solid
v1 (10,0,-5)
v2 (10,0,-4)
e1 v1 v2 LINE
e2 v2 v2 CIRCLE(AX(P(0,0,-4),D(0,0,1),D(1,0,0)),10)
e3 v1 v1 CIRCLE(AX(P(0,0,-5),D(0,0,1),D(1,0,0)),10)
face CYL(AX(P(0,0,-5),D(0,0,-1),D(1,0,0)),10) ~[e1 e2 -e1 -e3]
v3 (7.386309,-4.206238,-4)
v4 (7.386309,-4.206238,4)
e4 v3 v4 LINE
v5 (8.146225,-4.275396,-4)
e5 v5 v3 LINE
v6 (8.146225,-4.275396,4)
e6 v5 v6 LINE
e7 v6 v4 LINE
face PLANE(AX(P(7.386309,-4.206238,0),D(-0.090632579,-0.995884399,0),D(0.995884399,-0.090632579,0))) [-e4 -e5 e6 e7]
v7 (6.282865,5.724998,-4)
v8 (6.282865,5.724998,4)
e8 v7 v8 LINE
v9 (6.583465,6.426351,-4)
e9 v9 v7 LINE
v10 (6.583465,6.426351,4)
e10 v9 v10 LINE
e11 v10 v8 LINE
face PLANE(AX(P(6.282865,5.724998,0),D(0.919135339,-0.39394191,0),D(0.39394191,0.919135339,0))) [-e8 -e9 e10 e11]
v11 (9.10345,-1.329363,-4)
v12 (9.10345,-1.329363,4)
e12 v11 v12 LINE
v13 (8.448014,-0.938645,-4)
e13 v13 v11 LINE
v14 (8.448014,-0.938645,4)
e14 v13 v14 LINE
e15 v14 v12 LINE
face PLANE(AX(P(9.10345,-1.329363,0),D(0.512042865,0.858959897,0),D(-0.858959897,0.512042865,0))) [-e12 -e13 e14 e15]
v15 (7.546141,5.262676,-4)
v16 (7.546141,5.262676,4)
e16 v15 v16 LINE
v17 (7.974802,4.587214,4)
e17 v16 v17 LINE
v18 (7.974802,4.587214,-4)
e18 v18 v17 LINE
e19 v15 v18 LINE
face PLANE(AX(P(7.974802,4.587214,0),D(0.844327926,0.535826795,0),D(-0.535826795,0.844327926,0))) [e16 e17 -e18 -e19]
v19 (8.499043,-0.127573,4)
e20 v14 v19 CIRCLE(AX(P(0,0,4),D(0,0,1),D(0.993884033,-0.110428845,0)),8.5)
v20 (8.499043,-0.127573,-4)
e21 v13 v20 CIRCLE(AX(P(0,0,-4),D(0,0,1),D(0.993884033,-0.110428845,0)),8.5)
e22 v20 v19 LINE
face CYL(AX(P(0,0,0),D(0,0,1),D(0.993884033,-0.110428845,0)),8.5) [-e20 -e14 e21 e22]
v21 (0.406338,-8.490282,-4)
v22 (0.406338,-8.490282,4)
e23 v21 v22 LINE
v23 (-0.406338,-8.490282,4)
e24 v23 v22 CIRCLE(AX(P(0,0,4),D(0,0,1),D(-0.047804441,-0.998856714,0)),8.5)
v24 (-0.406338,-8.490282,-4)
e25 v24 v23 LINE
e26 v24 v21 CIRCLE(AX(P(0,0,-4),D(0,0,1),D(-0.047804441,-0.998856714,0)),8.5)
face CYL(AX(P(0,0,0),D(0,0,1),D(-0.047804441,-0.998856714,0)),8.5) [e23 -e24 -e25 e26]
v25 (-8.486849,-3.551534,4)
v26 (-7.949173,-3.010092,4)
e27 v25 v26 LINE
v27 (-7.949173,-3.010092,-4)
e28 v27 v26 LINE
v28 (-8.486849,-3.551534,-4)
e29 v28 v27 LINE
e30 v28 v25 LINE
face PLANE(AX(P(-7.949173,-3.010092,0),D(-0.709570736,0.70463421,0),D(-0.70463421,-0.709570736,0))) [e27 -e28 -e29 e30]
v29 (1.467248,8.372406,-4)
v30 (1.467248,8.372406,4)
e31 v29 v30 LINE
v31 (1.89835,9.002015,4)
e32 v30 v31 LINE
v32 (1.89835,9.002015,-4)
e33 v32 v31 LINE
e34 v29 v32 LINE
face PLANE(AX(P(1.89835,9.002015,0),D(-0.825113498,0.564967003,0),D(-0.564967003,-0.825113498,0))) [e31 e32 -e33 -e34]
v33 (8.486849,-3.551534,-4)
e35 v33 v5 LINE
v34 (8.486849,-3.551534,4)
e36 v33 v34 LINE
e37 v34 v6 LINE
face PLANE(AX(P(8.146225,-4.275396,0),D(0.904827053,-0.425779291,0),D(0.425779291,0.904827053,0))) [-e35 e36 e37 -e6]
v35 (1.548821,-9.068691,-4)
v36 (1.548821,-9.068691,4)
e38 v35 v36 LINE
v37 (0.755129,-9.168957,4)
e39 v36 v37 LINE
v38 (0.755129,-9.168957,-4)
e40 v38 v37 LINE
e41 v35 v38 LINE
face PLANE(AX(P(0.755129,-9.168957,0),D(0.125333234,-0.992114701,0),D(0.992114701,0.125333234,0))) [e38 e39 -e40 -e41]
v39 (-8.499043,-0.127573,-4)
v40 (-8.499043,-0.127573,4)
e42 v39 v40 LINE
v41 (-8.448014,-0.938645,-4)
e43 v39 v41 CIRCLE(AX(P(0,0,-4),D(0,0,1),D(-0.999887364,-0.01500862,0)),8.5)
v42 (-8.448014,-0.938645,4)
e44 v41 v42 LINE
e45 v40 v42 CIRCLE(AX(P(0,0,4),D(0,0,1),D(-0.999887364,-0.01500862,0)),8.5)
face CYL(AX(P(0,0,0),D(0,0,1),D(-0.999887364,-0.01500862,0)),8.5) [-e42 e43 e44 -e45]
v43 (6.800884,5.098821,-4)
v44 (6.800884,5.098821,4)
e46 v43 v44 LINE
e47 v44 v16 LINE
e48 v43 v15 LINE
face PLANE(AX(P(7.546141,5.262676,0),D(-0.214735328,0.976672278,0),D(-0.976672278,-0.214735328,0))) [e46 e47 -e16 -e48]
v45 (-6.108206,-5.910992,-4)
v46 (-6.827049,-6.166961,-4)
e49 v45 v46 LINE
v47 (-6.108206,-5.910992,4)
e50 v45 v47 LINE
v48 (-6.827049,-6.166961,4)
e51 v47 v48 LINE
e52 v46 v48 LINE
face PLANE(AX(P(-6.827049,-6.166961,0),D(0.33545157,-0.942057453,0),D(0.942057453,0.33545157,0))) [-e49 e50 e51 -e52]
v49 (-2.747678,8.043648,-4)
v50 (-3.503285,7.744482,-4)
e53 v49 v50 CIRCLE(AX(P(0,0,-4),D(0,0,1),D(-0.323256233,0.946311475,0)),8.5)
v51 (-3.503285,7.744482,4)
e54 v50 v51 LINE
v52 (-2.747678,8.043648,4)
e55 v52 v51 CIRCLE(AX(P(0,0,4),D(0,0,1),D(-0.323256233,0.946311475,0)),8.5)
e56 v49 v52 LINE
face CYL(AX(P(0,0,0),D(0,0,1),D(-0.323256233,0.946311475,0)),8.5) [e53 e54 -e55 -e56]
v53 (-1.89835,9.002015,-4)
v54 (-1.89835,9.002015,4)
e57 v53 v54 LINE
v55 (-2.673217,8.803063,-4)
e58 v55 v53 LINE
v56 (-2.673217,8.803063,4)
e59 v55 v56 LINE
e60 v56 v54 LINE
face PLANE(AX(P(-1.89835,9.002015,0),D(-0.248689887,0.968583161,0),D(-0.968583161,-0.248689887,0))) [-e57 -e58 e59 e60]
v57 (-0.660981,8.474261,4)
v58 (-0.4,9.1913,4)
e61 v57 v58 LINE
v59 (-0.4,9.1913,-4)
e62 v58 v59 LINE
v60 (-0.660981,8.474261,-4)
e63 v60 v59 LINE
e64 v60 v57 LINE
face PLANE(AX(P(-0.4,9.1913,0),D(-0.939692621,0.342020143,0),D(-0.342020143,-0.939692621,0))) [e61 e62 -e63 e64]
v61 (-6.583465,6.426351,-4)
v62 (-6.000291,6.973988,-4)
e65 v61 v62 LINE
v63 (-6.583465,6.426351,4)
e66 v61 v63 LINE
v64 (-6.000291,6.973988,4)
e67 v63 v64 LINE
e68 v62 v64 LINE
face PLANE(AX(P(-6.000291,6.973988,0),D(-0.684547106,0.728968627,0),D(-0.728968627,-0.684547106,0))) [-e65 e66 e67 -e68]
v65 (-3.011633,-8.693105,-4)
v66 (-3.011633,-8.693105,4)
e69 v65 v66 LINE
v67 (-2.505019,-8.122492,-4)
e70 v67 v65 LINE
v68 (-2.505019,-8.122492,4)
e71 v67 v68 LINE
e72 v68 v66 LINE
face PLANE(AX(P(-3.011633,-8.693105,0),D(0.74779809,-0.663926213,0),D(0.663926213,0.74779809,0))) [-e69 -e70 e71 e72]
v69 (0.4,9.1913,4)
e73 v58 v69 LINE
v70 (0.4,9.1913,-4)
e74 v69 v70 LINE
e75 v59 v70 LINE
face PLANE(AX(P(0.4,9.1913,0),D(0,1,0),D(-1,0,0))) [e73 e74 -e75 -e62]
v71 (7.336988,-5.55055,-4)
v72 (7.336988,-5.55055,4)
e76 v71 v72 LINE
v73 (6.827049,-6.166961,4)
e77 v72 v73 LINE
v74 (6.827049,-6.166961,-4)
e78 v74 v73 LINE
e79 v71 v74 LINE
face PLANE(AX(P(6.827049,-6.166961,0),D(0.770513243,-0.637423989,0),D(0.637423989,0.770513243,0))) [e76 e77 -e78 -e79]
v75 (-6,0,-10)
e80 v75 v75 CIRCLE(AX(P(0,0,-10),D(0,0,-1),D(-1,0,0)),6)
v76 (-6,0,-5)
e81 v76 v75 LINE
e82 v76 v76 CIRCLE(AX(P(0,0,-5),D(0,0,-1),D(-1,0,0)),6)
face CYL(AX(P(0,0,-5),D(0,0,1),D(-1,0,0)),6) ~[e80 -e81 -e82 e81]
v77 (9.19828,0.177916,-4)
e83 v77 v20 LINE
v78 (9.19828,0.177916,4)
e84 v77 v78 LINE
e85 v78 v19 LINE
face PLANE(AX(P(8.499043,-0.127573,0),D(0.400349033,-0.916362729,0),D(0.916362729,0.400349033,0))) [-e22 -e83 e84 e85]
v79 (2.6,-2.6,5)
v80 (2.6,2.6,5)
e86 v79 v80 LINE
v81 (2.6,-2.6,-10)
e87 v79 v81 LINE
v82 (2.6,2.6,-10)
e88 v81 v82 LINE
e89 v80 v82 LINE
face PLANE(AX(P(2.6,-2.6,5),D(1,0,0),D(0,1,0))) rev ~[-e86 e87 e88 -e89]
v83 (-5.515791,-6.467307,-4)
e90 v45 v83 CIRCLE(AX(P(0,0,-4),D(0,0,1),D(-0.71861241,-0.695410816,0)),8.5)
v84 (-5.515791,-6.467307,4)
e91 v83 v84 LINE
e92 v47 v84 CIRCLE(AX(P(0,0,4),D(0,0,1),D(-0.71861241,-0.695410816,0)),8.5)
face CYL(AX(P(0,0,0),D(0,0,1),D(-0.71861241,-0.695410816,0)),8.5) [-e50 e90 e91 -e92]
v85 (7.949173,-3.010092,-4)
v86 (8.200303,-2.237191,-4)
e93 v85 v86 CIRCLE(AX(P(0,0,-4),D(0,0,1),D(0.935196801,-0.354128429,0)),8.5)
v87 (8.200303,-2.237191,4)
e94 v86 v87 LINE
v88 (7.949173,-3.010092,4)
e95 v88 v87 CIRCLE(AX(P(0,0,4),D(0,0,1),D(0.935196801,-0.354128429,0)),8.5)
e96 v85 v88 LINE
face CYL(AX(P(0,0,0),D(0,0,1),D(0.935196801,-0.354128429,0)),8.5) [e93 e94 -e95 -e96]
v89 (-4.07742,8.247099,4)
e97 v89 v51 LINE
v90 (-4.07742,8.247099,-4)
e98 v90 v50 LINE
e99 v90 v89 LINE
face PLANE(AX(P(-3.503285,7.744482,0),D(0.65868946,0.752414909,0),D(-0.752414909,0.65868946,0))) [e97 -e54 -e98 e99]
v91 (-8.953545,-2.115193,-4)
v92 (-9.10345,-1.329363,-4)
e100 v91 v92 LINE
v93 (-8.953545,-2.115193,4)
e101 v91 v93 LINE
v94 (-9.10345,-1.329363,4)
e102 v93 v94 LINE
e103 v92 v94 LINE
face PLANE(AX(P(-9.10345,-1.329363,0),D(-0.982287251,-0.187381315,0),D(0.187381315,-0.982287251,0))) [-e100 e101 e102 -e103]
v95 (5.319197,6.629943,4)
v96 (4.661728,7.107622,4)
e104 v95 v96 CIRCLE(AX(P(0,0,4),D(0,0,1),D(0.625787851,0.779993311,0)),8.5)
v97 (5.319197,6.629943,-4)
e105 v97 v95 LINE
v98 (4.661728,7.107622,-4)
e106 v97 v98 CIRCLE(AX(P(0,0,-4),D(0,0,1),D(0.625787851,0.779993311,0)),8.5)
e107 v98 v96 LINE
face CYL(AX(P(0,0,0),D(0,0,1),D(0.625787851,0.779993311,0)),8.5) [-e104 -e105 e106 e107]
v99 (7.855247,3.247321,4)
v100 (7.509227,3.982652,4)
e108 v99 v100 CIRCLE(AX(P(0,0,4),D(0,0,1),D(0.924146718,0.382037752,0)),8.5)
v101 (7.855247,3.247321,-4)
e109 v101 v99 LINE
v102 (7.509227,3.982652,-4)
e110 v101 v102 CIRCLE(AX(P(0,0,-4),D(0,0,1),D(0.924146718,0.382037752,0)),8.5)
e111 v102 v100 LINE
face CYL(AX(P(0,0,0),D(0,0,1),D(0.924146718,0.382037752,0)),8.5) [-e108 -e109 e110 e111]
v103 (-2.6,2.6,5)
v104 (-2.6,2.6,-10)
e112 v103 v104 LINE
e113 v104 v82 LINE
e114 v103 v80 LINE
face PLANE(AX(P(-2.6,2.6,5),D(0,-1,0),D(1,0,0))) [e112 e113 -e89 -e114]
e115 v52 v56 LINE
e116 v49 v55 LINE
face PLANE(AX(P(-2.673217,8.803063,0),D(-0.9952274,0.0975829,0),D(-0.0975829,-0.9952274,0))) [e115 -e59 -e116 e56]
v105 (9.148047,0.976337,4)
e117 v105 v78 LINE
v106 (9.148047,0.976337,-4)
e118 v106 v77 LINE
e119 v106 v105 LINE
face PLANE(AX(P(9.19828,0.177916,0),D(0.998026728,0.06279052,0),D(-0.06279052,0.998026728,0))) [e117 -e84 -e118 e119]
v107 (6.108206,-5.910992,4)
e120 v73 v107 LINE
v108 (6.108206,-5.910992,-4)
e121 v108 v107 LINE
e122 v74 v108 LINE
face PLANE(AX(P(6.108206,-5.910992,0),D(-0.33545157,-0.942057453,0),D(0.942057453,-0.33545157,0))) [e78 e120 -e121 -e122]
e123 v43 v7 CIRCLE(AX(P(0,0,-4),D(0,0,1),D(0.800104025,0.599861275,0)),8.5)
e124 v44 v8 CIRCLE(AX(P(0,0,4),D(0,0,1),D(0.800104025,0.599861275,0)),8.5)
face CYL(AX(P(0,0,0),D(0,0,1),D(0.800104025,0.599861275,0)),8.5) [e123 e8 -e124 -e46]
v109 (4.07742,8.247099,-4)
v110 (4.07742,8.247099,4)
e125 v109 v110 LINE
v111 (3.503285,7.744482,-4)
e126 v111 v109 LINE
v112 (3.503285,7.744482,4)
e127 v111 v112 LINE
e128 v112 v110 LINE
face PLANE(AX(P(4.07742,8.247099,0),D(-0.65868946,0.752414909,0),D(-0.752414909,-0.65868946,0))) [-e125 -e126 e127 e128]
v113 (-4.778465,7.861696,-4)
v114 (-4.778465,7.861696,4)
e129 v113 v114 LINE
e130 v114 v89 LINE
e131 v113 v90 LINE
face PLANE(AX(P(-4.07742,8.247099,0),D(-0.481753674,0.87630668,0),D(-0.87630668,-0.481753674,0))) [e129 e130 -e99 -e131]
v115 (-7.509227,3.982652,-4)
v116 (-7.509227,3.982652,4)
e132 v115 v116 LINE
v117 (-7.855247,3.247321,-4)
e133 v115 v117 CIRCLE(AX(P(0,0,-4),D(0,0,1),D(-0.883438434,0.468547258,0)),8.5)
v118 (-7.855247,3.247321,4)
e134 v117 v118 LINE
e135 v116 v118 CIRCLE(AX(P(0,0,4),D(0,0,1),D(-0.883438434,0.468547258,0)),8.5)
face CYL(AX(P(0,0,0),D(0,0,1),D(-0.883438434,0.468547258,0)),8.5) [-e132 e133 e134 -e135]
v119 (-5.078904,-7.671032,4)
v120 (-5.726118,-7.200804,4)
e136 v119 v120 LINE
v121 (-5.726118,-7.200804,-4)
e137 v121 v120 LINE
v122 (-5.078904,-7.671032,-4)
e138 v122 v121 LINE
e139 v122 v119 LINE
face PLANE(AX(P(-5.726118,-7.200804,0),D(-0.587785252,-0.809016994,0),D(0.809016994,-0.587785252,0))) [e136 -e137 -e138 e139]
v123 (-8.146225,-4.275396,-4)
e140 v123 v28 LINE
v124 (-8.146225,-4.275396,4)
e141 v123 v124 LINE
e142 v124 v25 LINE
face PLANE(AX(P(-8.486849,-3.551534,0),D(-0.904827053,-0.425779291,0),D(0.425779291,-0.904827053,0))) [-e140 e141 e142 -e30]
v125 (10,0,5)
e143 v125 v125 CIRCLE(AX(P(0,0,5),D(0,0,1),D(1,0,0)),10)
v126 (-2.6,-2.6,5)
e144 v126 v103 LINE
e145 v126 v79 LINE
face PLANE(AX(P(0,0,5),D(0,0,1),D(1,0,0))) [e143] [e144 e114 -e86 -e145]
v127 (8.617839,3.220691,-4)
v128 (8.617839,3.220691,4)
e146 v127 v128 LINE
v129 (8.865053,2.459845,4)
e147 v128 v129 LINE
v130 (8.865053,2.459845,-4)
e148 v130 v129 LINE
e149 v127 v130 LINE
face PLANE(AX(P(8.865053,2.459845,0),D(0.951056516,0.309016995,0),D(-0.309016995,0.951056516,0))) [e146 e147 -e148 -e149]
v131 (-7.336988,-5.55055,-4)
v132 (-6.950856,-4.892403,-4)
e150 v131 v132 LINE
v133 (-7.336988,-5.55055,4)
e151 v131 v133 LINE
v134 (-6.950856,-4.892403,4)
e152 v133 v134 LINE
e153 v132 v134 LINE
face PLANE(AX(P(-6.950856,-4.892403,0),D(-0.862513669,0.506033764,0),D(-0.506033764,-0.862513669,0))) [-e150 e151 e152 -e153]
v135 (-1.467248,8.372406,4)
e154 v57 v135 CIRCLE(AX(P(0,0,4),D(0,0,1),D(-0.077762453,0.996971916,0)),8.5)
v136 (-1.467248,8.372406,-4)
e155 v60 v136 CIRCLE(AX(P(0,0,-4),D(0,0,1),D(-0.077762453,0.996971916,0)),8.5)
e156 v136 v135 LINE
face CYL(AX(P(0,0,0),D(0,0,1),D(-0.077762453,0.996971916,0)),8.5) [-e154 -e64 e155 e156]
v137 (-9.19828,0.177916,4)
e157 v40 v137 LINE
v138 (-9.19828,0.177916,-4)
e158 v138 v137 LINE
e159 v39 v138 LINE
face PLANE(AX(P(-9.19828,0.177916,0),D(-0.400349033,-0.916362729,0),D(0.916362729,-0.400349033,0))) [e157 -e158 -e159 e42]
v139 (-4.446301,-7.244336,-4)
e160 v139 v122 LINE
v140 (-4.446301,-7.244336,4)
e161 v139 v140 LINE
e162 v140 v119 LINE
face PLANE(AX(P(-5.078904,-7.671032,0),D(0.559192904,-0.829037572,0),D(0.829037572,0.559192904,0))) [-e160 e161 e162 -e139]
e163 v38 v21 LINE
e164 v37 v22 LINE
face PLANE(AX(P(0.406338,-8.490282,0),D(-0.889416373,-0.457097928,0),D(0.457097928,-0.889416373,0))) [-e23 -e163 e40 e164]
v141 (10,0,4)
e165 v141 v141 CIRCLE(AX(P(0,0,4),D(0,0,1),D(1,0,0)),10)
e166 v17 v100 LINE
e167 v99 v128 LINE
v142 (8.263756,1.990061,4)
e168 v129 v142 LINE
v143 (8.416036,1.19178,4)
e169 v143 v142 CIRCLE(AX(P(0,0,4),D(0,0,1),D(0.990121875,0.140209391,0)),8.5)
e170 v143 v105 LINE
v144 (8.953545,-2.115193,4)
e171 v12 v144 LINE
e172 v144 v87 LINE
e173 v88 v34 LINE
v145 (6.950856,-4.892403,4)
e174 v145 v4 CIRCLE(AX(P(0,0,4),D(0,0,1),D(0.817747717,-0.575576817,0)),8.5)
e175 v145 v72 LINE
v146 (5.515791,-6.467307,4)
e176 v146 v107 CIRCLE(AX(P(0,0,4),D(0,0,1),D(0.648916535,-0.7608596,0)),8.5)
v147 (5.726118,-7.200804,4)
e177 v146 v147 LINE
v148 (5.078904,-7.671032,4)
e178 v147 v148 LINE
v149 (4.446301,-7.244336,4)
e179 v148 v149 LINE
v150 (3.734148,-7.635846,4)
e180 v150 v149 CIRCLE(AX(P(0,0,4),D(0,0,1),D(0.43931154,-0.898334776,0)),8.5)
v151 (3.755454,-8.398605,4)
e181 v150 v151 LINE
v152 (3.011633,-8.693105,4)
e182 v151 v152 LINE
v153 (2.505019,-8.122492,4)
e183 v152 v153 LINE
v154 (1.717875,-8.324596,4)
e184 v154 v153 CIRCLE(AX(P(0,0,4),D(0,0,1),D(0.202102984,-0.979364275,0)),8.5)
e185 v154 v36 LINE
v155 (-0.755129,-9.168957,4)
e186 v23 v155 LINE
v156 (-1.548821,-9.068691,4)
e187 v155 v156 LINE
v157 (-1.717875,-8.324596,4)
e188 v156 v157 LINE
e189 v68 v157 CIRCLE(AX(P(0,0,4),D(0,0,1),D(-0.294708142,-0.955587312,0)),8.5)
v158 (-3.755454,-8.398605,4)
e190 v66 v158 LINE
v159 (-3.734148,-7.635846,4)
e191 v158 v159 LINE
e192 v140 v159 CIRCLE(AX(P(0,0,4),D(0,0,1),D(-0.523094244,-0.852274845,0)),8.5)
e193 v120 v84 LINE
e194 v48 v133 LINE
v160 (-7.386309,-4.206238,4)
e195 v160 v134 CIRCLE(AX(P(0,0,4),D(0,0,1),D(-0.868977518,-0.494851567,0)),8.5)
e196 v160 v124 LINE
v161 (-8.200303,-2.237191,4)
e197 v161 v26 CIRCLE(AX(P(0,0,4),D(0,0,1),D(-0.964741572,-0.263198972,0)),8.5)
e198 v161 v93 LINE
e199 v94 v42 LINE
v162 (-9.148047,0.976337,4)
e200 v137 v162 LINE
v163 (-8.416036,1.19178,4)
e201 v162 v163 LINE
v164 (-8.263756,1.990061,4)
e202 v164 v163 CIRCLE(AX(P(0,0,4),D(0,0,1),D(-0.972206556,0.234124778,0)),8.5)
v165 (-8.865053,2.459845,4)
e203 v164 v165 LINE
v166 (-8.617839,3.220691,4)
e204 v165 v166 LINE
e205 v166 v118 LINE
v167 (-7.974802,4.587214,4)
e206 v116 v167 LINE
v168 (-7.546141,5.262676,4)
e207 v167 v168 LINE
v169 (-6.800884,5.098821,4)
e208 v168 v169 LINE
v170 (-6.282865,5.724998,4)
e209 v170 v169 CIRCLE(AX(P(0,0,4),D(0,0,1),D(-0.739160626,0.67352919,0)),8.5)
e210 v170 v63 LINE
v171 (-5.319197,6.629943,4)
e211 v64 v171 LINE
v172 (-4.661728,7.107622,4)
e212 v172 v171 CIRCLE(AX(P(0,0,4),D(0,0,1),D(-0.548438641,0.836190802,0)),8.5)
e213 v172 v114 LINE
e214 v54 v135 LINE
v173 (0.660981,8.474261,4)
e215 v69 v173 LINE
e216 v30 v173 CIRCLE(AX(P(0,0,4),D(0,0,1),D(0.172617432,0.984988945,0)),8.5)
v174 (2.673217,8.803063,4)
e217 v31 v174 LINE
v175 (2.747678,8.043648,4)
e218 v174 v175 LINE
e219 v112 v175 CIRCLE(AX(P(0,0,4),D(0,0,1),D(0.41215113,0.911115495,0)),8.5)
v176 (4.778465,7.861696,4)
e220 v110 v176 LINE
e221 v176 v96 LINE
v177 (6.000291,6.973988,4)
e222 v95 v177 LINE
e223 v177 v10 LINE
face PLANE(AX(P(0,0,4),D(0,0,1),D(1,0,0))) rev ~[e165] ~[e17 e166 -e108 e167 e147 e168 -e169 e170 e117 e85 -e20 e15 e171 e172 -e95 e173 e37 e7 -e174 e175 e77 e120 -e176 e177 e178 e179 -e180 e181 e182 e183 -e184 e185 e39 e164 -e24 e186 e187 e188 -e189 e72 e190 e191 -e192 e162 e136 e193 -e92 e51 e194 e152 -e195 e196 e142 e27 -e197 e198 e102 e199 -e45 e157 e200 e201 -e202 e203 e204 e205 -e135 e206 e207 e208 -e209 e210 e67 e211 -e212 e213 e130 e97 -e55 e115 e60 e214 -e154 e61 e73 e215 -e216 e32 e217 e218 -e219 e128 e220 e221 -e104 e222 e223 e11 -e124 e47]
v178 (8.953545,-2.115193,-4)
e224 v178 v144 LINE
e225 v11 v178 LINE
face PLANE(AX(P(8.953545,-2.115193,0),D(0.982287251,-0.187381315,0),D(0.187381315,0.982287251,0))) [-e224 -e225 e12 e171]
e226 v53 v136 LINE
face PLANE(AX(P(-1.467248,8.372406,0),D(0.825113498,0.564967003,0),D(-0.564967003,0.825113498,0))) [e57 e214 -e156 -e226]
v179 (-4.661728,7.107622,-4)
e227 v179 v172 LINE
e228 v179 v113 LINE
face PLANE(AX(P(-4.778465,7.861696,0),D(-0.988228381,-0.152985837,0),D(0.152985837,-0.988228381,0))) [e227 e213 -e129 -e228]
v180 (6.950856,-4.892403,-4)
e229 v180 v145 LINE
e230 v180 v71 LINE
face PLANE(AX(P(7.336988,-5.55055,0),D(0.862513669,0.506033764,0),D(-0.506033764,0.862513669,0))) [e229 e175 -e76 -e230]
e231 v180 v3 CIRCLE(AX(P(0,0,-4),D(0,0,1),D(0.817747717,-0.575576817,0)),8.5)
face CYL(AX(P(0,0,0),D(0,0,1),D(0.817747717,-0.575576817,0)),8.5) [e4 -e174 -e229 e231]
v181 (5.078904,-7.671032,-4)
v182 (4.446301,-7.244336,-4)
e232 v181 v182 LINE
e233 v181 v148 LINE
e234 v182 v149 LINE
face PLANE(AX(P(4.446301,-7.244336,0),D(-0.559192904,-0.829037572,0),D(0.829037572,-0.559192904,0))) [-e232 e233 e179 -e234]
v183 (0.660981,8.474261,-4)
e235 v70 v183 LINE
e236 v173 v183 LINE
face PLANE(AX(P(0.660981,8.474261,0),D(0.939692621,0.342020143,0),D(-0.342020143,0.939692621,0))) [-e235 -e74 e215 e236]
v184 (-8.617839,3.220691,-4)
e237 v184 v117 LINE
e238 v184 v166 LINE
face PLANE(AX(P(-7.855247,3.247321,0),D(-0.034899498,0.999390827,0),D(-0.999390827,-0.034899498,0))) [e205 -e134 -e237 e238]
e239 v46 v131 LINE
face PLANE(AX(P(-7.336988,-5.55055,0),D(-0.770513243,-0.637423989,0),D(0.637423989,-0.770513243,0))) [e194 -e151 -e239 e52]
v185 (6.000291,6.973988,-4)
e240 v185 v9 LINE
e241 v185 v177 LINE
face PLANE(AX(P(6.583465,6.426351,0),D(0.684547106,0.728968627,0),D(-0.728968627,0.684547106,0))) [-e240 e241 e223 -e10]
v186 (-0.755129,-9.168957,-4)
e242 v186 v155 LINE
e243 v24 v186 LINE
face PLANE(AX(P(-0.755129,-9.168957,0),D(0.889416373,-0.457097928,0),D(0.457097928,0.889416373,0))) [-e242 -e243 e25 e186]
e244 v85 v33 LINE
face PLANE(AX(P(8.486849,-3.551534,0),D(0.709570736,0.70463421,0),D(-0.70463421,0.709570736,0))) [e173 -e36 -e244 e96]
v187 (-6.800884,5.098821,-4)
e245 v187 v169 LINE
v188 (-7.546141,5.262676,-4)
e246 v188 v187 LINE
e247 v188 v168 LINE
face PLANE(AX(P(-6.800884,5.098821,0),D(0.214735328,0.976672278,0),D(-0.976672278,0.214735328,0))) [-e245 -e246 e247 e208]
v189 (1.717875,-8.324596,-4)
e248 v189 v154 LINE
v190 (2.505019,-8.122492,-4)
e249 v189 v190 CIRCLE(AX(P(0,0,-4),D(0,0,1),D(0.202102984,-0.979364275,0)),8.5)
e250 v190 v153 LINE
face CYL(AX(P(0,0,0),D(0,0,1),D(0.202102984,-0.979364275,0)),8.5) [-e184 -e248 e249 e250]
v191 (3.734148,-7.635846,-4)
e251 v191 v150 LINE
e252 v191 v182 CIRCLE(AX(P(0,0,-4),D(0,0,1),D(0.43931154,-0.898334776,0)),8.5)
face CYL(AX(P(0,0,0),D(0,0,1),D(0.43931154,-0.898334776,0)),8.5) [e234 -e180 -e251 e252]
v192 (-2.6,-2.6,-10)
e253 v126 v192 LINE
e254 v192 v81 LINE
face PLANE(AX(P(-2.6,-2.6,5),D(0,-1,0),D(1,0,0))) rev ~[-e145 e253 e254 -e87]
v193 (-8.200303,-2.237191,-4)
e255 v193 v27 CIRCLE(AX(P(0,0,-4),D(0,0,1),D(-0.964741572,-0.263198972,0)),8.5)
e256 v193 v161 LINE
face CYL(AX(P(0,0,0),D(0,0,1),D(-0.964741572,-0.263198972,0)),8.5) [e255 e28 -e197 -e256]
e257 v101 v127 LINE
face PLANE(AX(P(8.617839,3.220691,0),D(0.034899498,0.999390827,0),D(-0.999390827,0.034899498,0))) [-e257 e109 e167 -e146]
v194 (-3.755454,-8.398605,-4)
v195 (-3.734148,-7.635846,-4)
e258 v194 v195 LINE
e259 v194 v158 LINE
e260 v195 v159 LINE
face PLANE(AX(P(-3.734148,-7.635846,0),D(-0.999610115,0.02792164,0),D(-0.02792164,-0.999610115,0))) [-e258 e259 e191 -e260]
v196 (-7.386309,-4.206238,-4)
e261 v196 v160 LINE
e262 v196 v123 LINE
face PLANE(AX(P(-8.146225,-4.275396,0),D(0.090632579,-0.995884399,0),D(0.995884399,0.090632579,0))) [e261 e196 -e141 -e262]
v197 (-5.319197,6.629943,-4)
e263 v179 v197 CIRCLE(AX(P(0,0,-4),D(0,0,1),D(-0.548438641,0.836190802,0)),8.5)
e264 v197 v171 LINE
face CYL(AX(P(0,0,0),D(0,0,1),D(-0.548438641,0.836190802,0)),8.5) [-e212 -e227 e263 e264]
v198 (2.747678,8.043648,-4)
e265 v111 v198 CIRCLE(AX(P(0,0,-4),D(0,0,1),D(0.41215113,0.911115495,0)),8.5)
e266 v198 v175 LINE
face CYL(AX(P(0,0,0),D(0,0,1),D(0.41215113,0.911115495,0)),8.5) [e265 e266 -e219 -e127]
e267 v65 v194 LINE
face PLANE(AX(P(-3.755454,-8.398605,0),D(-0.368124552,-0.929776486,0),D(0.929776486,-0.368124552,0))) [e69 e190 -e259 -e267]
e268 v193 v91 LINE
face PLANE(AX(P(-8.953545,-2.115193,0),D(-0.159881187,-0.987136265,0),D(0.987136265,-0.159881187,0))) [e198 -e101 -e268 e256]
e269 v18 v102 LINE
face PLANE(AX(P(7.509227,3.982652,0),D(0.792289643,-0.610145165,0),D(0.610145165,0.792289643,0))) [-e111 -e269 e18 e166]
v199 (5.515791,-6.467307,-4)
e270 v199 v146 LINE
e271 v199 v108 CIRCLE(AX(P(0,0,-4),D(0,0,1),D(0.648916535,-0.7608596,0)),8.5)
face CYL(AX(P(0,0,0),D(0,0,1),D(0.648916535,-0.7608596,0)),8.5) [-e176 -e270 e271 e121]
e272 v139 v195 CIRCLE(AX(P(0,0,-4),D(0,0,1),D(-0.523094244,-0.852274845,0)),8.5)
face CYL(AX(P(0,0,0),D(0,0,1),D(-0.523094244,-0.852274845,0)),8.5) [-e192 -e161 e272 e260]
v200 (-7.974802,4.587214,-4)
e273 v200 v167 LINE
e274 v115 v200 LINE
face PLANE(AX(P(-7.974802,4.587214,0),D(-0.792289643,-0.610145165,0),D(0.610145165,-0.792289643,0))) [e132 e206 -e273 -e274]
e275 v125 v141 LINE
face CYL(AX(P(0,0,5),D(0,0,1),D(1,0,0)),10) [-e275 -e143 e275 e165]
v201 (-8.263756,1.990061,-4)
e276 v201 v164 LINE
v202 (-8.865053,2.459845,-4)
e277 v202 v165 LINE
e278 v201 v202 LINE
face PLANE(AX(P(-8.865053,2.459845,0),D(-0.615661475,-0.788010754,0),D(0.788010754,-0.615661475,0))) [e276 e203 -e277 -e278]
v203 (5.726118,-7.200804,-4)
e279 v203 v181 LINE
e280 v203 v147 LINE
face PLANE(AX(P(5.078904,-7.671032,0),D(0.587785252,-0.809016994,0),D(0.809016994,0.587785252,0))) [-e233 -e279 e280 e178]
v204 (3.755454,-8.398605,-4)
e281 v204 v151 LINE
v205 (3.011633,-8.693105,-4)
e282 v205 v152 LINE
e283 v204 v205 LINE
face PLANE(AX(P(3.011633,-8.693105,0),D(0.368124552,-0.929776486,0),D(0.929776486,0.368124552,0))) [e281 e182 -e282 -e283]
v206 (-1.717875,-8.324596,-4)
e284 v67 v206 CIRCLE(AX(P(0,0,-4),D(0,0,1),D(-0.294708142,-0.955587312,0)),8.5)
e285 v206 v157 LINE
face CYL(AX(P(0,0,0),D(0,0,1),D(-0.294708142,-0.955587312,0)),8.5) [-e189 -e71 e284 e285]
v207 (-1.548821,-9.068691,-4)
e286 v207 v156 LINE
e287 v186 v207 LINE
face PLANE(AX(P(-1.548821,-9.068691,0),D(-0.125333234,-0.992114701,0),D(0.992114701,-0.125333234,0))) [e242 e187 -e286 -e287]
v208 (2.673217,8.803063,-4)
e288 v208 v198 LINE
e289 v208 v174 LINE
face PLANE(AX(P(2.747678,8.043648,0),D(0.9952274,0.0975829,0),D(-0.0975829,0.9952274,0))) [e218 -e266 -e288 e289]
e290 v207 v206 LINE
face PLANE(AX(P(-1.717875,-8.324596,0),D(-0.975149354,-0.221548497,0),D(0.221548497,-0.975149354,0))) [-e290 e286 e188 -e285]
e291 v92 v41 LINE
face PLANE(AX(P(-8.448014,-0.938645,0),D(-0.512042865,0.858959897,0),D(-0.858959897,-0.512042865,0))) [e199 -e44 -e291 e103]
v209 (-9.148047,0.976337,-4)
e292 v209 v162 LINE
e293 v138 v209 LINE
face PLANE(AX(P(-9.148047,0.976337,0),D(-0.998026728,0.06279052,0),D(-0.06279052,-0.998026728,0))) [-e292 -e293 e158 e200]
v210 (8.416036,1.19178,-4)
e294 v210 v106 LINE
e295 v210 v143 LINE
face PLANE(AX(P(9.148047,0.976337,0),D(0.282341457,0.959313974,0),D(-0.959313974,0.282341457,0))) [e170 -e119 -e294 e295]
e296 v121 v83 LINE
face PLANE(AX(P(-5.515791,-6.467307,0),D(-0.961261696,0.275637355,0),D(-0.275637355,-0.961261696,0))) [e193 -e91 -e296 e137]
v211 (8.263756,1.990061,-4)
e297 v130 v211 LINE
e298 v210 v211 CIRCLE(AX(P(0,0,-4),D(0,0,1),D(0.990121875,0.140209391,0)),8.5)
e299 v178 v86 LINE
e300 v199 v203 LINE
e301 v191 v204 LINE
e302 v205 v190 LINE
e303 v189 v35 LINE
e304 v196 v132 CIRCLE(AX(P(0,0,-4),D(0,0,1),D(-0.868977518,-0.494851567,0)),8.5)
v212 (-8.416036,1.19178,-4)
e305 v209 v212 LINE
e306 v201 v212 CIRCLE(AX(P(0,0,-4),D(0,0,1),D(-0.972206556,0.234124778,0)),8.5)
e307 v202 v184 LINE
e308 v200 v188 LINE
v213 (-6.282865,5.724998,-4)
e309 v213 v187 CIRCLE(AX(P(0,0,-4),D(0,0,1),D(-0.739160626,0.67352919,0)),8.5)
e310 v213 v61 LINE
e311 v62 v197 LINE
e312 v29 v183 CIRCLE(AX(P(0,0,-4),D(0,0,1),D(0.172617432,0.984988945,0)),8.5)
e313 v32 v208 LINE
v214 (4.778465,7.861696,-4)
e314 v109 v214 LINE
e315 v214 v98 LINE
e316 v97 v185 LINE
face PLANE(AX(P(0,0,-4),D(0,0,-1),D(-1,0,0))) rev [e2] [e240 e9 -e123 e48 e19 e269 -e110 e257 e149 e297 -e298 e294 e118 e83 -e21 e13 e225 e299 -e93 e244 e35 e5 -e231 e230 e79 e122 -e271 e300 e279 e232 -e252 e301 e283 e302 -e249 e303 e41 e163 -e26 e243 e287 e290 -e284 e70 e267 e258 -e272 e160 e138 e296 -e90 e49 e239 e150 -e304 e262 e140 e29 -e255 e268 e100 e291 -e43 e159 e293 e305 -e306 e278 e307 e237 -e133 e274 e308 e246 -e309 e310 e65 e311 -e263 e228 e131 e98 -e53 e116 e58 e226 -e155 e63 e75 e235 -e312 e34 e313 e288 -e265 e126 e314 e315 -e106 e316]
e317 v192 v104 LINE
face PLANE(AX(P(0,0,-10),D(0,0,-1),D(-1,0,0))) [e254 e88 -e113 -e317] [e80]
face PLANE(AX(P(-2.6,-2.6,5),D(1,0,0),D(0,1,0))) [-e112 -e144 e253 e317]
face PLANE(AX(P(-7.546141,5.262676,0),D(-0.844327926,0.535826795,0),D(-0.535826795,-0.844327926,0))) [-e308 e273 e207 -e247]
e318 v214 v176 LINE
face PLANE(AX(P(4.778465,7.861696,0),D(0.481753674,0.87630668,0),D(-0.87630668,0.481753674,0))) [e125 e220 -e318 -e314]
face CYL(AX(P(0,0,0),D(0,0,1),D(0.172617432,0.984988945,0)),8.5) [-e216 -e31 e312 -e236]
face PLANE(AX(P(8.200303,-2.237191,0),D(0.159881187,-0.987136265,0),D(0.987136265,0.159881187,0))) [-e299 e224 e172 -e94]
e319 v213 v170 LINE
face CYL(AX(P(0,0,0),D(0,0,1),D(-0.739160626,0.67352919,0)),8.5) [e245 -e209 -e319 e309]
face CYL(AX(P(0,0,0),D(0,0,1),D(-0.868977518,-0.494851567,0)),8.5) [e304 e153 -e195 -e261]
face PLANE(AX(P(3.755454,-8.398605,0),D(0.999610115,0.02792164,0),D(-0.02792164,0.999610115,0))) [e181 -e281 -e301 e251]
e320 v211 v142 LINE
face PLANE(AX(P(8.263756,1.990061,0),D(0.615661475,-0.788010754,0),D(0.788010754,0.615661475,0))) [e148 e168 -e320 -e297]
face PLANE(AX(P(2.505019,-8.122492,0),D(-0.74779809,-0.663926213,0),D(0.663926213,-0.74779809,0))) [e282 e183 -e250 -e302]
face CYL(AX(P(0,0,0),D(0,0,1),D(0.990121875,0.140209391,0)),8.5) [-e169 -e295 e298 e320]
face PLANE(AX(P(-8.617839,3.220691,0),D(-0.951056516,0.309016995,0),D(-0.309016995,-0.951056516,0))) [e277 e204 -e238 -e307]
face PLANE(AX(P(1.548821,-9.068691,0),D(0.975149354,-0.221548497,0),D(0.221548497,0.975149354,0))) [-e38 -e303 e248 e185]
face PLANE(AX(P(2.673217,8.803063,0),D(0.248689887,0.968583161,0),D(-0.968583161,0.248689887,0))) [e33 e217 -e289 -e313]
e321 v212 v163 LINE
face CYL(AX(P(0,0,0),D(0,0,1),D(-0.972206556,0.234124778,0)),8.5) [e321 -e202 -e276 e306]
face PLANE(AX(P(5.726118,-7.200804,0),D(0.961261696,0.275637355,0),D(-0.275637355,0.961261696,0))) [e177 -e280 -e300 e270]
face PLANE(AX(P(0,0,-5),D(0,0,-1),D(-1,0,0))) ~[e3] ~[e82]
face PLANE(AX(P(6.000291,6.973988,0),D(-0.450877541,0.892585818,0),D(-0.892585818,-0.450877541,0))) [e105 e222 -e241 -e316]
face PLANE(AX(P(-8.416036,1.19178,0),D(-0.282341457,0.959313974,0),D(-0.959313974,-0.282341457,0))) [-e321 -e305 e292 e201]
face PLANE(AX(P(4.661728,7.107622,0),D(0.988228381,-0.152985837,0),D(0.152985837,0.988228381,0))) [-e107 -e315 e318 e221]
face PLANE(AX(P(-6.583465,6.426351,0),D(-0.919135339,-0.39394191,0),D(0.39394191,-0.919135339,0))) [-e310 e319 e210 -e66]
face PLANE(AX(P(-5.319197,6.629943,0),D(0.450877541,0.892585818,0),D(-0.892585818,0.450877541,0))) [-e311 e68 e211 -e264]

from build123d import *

# Parameters (mm, degrees)
BOSS_EXTRUDE1_DEPTH = 5
SKETCH2_R           = 10
BOSS_EXTRUDE2_DEPTH = 1
SKETCH4_R           = 6
BOSS_EXTRUDE3_DEPTH = 5
CUT_EXTRUDE1_REACH  = 17
SKETCH5_W           = 5.2
SKETCH5_H           = 5.2


with BuildPart() as part:
    # Sketch1 → Boss-Extrude1 (new body, symmetric)
    with BuildSketch(Plane.XY):
        with BuildLine():
            Line((-0.4, 9.191300234), (-0.660980834, 8.474261286))
            ThreePointArc((-0.660980834, 8.474261286), (-1.065332485, 8.432974961), (-1.467248177, 8.372406033))
            Line((-1.467248177, 8.372406033), (-1.898350154, 9.002014591))
            Line((-1.898350154, 9.002014591), (-2.673216683, 8.803062681))
            Line((-2.673216683, 8.803062681), (-2.747677989, 8.043647535))
            ThreePointArc((-2.747677989, 8.043647535), (-3.129058698, 7.90310013), (-3.503284589, 7.744481718))
            Line((-3.503284589, 7.744481718), (-4.077419986, 8.247099263))
            Line((-4.077419986, 8.247099263), (-4.77846533, 7.861696324))
            Line((-4.77846533, 7.861696324), (-4.66172843, 7.107621828))
            ThreePointArc((-4.66172843, 7.107621828), (-4.996174644, 6.876644452), (-5.319196746, 6.629943135))
            Line((-5.319196746, 6.629943135), (-6.000290524, 6.973988359))
            Line((-6.000290524, 6.973988359), (-6.583465426, 6.426350674))
            Line((-6.583465426, 6.426350674), (-6.282865329, 5.724998101))
            ThreePointArc((-6.282865329, 5.724998101), (-6.549362564, 5.418103913), (-6.80088421, 5.098820841))
            Line((-6.80088421, 5.098820841), (-7.546140742, 5.262676117))
            Line((-7.546140742, 5.262676117), (-7.974802178, 4.587213776))
            Line((-7.974802178, 4.587213776), (-7.509226693, 3.982651688))
            ThreePointArc((-7.509226693, 3.982651688), (-7.691029946, 3.619123978), (-7.855247106, 3.247320882))
            Line((-7.855247106, 3.247320882), (-8.617839183, 3.220690579))
            Line((-8.617839183, 3.220690579), (-8.865052779, 2.459845366))
            Line((-8.865052779, 2.459845366), (-8.263755727, 1.990060623))
            ThreePointArc((-8.263755727, 1.990060623), (-8.349441631, 1.592741174), (-8.416035937, 1.191779808))
            Line((-8.416035937, 1.191779808), (-9.148047095, 0.976337208))
            Line((-9.148047095, 0.976337208), (-9.198279511, 0.177915826))
            Line((-9.198279511, 0.177915826), (-8.499042597, -0.127573271))
            ThreePointArc((-8.499042597, -0.127573271), (-8.483227192, -0.533719416), (-8.448014278, -0.938645173))
            Line((-8.448014278, -0.938645173), (-9.103449564, -1.32936302))
            Line((-9.103449564, -1.32936302), (-8.953544512, -2.115192821))
            Line((-8.953544512, -2.115192821), (-8.200303363, -2.237191266))
            ThreePointArc((-8.200303363, -2.237191266), (-8.083980389, -2.626644452), (-7.949172812, -3.010091627))
            Line((-7.949172812, -3.010091627), (-8.486848816, -3.551534481))
            Line((-8.486848816, -3.551534481), (-8.146225383, -4.275396123))
            Line((-8.146225383, -4.275396123), (-7.38630891, -4.206238307))
            ThreePointArc((-7.38630891, -4.206238307), (-7.176787367, -4.554527757), (-6.950855584, -4.892402953))
            Line((-6.950855584, -4.892402953), (-7.336988145, -5.550549969))
            Line((-7.336988145, -5.550549969), (-6.827048953, -6.166960564))
            Line((-6.827048953, -6.166960564), (-6.108205503, -5.910991925))
            ThreePointArc((-6.108205503, -5.910991925), (-5.8186504, -6.196233333), (-5.515790536, -6.467306608))
            Line((-5.515790536, -6.467306608), (-5.726117525, -7.200803989))
            Line((-5.726117525, -7.200803989), (-5.078903929, -7.671032191))
            Line((-5.078903929, -7.671032191), (-4.44630108, -7.244336181))
            ThreePointArc((-4.44630108, -7.244336181), (-4.09490623, -7.44860678), (-3.734148082, -7.635845605))
            Line((-3.734148082, -7.635845605), (-3.755453882, -8.398605012))
            Line((-3.755453882, -8.398605012), (-3.011632693, -8.693104654))
            Line((-3.011632693, -8.693104654), (-2.505019208, -8.122492153))
            ThreePointArc((-2.505019208, -8.122492153), (-2.113864041, -8.23295687), (-1.717875372, -8.324596339))
            Line((-1.717875372, -8.324596339), (-1.54882126, -9.068690793))
            Line((-1.54882126, -9.068690793), (-0.755129499, -9.16895738))
            Line((-0.755129499, -9.16895738), (-0.406337766, -8.49028207))
            ThreePointArc((-0.406337766, -8.49028207), (0, -8.5), (0.406337766, -8.49028207))
            Line((0.406337766, -8.49028207), (0.755129499, -9.16895738))
            Line((0.755129499, -9.16895738), (1.54882126, -9.068690793))
            Line((1.54882126, -9.068690793), (1.717875372, -8.324596339))
            ThreePointArc((1.717875372, -8.324596339), (2.113864041, -8.23295687), (2.505019208, -8.122492153))
            Line((2.505019208, -8.122492153), (3.011632693, -8.693104654))
            Line((3.011632693, -8.693104654), (3.755453882, -8.398605012))
            Line((3.755453882, -8.398605012), (3.734148082, -7.635845605))
            ThreePointArc((3.734148082, -7.635845605), (4.09490623, -7.44860678), (4.44630108, -7.244336181))
            Line((4.44630108, -7.244336181), (5.078903929, -7.671032191))
            Line((5.078903929, -7.671032191), (5.726117525, -7.200803989))
            Line((5.726117525, -7.200803989), (5.515790536, -6.467306608))
            ThreePointArc((5.515790536, -6.467306608), (5.8186504, -6.196233333), (6.108205503, -5.910991925))
            Line((6.108205503, -5.910991925), (6.827048953, -6.166960564))
            Line((6.827048953, -6.166960564), (7.336988145, -5.550549969))
            Line((7.336988145, -5.550549969), (6.950855584, -4.892402953))
            ThreePointArc((6.950855584, -4.892402953), (7.176787367, -4.554527757), (7.38630891, -4.206238307))
            Line((7.38630891, -4.206238307), (8.146225383, -4.275396123))
            Line((8.146225383, -4.275396123), (8.486848816, -3.551534481))
            Line((8.486848816, -3.551534481), (7.949172812, -3.010091627))
            ThreePointArc((7.949172812, -3.010091627), (8.083980389, -2.626644452), (8.200303363, -2.237191266))
            Line((8.200303363, -2.237191266), (8.953544512, -2.115192821))
            Line((8.953544512, -2.115192821), (9.103449564, -1.32936302))
            Line((9.103449564, -1.32936302), (8.448014278, -0.938645173))
            ThreePointArc((8.448014278, -0.938645173), (8.483227192, -0.533719416), (8.499042597, -0.127573271))
            Line((8.499042597, -0.127573271), (9.198279511, 0.177915826))
            Line((9.198279511, 0.177915826), (9.148047095, 0.976337208))
            Line((9.148047095, 0.976337208), (8.416035937, 1.191779808))
            ThreePointArc((8.416035937, 1.191779808), (8.349441631, 1.592741174), (8.263755727, 1.990060623))
            Line((8.263755727, 1.990060623), (8.865052779, 2.459845366))
            Line((8.865052779, 2.459845366), (8.617839183, 3.220690579))
            Line((8.617839183, 3.220690579), (7.855247106, 3.247320882))
            ThreePointArc((7.855247106, 3.247320882), (7.691029946, 3.619123978), (7.509226693, 3.982651688))
            Line((7.509226693, 3.982651688), (7.974802178, 4.587213776))
            Line((7.974802178, 4.587213776), (7.546140742, 5.262676117))
            Line((7.546140742, 5.262676117), (6.80088421, 5.098820841))
            ThreePointArc((6.80088421, 5.098820841), (6.549362564, 5.418103913), (6.282865329, 5.724998101))
            Line((6.282865329, 5.724998101), (6.583465426, 6.426350674))
            Line((6.583465426, 6.426350674), (6.000290524, 6.973988359))
            Line((6.000290524, 6.973988359), (5.319196746, 6.629943135))
            ThreePointArc((5.319196746, 6.629943135), (4.996174644, 6.876644452), (4.66172843, 7.107621828))
            Line((4.66172843, 7.107621828), (4.77846533, 7.861696324))
            Line((4.77846533, 7.861696324), (4.077419986, 8.247099263))
            Line((4.077419986, 8.247099263), (3.503284589, 7.744481718))
            ThreePointArc((3.503284589, 7.744481718), (3.129058698, 7.90310013), (2.747677989, 8.043647535))
            Line((2.747677989, 8.043647535), (2.673216683, 8.803062681))
            Line((2.673216683, 8.803062681), (1.898350154, 9.002014591))
            Line((1.898350154, 9.002014591), (1.467248177, 8.372406033))
            ThreePointArc((1.467248177, 8.372406033), (1.065332485, 8.432974961), (0.660980834, 8.474261286))
            Line((0.660980834, 8.474261286), (0.4, 9.191300234))
            Line((0.4, 9.191300234), (-0.4, 9.191300234))
        make_face()
    extrude(amount=BOSS_EXTRUDE1_DEPTH, both=True)

    # Sketch2 → Boss-Extrude2 (add)
    with BuildSketch(Plane.XY.offset(5)):
        Circle(SKETCH2_R)
    boss_extrude2 = extrude(amount=-BOSS_EXTRUDE2_DEPTH)

    # Mirror1: Boss-Extrude2 across plane
    add(boss_extrude2.mirror(Plane.XY))

    # Sketch4 → Boss-Extrude3 (add)
    with BuildSketch(Plane(origin=(0, 0, -5), x_dir=(-1, 0, 0), z_dir=(0, 0, -1))):
        Circle(SKETCH4_R)
    extrude(amount=BOSS_EXTRUDE3_DEPTH)

    # Sketch5 → Cut-Extrude1 (cut, up to next)
    with BuildSketch(Plane.XY.offset(5), mode=Mode.PRIVATE) as cut_extrude1_sk1:
        Rectangle(SKETCH5_W, SKETCH5_H)
    cut_extrude1_tool1 = extrude(cut_extrude1_sk1.sketch, amount=-CUT_EXTRUDE1_REACH, mode=Mode.PRIVATE) & part.part
    add(cut_extrude1_tool1.solids().sort_by_distance((0, 0, 5))[0], mode=Mode.SUBTRACT)


solid = part.part
